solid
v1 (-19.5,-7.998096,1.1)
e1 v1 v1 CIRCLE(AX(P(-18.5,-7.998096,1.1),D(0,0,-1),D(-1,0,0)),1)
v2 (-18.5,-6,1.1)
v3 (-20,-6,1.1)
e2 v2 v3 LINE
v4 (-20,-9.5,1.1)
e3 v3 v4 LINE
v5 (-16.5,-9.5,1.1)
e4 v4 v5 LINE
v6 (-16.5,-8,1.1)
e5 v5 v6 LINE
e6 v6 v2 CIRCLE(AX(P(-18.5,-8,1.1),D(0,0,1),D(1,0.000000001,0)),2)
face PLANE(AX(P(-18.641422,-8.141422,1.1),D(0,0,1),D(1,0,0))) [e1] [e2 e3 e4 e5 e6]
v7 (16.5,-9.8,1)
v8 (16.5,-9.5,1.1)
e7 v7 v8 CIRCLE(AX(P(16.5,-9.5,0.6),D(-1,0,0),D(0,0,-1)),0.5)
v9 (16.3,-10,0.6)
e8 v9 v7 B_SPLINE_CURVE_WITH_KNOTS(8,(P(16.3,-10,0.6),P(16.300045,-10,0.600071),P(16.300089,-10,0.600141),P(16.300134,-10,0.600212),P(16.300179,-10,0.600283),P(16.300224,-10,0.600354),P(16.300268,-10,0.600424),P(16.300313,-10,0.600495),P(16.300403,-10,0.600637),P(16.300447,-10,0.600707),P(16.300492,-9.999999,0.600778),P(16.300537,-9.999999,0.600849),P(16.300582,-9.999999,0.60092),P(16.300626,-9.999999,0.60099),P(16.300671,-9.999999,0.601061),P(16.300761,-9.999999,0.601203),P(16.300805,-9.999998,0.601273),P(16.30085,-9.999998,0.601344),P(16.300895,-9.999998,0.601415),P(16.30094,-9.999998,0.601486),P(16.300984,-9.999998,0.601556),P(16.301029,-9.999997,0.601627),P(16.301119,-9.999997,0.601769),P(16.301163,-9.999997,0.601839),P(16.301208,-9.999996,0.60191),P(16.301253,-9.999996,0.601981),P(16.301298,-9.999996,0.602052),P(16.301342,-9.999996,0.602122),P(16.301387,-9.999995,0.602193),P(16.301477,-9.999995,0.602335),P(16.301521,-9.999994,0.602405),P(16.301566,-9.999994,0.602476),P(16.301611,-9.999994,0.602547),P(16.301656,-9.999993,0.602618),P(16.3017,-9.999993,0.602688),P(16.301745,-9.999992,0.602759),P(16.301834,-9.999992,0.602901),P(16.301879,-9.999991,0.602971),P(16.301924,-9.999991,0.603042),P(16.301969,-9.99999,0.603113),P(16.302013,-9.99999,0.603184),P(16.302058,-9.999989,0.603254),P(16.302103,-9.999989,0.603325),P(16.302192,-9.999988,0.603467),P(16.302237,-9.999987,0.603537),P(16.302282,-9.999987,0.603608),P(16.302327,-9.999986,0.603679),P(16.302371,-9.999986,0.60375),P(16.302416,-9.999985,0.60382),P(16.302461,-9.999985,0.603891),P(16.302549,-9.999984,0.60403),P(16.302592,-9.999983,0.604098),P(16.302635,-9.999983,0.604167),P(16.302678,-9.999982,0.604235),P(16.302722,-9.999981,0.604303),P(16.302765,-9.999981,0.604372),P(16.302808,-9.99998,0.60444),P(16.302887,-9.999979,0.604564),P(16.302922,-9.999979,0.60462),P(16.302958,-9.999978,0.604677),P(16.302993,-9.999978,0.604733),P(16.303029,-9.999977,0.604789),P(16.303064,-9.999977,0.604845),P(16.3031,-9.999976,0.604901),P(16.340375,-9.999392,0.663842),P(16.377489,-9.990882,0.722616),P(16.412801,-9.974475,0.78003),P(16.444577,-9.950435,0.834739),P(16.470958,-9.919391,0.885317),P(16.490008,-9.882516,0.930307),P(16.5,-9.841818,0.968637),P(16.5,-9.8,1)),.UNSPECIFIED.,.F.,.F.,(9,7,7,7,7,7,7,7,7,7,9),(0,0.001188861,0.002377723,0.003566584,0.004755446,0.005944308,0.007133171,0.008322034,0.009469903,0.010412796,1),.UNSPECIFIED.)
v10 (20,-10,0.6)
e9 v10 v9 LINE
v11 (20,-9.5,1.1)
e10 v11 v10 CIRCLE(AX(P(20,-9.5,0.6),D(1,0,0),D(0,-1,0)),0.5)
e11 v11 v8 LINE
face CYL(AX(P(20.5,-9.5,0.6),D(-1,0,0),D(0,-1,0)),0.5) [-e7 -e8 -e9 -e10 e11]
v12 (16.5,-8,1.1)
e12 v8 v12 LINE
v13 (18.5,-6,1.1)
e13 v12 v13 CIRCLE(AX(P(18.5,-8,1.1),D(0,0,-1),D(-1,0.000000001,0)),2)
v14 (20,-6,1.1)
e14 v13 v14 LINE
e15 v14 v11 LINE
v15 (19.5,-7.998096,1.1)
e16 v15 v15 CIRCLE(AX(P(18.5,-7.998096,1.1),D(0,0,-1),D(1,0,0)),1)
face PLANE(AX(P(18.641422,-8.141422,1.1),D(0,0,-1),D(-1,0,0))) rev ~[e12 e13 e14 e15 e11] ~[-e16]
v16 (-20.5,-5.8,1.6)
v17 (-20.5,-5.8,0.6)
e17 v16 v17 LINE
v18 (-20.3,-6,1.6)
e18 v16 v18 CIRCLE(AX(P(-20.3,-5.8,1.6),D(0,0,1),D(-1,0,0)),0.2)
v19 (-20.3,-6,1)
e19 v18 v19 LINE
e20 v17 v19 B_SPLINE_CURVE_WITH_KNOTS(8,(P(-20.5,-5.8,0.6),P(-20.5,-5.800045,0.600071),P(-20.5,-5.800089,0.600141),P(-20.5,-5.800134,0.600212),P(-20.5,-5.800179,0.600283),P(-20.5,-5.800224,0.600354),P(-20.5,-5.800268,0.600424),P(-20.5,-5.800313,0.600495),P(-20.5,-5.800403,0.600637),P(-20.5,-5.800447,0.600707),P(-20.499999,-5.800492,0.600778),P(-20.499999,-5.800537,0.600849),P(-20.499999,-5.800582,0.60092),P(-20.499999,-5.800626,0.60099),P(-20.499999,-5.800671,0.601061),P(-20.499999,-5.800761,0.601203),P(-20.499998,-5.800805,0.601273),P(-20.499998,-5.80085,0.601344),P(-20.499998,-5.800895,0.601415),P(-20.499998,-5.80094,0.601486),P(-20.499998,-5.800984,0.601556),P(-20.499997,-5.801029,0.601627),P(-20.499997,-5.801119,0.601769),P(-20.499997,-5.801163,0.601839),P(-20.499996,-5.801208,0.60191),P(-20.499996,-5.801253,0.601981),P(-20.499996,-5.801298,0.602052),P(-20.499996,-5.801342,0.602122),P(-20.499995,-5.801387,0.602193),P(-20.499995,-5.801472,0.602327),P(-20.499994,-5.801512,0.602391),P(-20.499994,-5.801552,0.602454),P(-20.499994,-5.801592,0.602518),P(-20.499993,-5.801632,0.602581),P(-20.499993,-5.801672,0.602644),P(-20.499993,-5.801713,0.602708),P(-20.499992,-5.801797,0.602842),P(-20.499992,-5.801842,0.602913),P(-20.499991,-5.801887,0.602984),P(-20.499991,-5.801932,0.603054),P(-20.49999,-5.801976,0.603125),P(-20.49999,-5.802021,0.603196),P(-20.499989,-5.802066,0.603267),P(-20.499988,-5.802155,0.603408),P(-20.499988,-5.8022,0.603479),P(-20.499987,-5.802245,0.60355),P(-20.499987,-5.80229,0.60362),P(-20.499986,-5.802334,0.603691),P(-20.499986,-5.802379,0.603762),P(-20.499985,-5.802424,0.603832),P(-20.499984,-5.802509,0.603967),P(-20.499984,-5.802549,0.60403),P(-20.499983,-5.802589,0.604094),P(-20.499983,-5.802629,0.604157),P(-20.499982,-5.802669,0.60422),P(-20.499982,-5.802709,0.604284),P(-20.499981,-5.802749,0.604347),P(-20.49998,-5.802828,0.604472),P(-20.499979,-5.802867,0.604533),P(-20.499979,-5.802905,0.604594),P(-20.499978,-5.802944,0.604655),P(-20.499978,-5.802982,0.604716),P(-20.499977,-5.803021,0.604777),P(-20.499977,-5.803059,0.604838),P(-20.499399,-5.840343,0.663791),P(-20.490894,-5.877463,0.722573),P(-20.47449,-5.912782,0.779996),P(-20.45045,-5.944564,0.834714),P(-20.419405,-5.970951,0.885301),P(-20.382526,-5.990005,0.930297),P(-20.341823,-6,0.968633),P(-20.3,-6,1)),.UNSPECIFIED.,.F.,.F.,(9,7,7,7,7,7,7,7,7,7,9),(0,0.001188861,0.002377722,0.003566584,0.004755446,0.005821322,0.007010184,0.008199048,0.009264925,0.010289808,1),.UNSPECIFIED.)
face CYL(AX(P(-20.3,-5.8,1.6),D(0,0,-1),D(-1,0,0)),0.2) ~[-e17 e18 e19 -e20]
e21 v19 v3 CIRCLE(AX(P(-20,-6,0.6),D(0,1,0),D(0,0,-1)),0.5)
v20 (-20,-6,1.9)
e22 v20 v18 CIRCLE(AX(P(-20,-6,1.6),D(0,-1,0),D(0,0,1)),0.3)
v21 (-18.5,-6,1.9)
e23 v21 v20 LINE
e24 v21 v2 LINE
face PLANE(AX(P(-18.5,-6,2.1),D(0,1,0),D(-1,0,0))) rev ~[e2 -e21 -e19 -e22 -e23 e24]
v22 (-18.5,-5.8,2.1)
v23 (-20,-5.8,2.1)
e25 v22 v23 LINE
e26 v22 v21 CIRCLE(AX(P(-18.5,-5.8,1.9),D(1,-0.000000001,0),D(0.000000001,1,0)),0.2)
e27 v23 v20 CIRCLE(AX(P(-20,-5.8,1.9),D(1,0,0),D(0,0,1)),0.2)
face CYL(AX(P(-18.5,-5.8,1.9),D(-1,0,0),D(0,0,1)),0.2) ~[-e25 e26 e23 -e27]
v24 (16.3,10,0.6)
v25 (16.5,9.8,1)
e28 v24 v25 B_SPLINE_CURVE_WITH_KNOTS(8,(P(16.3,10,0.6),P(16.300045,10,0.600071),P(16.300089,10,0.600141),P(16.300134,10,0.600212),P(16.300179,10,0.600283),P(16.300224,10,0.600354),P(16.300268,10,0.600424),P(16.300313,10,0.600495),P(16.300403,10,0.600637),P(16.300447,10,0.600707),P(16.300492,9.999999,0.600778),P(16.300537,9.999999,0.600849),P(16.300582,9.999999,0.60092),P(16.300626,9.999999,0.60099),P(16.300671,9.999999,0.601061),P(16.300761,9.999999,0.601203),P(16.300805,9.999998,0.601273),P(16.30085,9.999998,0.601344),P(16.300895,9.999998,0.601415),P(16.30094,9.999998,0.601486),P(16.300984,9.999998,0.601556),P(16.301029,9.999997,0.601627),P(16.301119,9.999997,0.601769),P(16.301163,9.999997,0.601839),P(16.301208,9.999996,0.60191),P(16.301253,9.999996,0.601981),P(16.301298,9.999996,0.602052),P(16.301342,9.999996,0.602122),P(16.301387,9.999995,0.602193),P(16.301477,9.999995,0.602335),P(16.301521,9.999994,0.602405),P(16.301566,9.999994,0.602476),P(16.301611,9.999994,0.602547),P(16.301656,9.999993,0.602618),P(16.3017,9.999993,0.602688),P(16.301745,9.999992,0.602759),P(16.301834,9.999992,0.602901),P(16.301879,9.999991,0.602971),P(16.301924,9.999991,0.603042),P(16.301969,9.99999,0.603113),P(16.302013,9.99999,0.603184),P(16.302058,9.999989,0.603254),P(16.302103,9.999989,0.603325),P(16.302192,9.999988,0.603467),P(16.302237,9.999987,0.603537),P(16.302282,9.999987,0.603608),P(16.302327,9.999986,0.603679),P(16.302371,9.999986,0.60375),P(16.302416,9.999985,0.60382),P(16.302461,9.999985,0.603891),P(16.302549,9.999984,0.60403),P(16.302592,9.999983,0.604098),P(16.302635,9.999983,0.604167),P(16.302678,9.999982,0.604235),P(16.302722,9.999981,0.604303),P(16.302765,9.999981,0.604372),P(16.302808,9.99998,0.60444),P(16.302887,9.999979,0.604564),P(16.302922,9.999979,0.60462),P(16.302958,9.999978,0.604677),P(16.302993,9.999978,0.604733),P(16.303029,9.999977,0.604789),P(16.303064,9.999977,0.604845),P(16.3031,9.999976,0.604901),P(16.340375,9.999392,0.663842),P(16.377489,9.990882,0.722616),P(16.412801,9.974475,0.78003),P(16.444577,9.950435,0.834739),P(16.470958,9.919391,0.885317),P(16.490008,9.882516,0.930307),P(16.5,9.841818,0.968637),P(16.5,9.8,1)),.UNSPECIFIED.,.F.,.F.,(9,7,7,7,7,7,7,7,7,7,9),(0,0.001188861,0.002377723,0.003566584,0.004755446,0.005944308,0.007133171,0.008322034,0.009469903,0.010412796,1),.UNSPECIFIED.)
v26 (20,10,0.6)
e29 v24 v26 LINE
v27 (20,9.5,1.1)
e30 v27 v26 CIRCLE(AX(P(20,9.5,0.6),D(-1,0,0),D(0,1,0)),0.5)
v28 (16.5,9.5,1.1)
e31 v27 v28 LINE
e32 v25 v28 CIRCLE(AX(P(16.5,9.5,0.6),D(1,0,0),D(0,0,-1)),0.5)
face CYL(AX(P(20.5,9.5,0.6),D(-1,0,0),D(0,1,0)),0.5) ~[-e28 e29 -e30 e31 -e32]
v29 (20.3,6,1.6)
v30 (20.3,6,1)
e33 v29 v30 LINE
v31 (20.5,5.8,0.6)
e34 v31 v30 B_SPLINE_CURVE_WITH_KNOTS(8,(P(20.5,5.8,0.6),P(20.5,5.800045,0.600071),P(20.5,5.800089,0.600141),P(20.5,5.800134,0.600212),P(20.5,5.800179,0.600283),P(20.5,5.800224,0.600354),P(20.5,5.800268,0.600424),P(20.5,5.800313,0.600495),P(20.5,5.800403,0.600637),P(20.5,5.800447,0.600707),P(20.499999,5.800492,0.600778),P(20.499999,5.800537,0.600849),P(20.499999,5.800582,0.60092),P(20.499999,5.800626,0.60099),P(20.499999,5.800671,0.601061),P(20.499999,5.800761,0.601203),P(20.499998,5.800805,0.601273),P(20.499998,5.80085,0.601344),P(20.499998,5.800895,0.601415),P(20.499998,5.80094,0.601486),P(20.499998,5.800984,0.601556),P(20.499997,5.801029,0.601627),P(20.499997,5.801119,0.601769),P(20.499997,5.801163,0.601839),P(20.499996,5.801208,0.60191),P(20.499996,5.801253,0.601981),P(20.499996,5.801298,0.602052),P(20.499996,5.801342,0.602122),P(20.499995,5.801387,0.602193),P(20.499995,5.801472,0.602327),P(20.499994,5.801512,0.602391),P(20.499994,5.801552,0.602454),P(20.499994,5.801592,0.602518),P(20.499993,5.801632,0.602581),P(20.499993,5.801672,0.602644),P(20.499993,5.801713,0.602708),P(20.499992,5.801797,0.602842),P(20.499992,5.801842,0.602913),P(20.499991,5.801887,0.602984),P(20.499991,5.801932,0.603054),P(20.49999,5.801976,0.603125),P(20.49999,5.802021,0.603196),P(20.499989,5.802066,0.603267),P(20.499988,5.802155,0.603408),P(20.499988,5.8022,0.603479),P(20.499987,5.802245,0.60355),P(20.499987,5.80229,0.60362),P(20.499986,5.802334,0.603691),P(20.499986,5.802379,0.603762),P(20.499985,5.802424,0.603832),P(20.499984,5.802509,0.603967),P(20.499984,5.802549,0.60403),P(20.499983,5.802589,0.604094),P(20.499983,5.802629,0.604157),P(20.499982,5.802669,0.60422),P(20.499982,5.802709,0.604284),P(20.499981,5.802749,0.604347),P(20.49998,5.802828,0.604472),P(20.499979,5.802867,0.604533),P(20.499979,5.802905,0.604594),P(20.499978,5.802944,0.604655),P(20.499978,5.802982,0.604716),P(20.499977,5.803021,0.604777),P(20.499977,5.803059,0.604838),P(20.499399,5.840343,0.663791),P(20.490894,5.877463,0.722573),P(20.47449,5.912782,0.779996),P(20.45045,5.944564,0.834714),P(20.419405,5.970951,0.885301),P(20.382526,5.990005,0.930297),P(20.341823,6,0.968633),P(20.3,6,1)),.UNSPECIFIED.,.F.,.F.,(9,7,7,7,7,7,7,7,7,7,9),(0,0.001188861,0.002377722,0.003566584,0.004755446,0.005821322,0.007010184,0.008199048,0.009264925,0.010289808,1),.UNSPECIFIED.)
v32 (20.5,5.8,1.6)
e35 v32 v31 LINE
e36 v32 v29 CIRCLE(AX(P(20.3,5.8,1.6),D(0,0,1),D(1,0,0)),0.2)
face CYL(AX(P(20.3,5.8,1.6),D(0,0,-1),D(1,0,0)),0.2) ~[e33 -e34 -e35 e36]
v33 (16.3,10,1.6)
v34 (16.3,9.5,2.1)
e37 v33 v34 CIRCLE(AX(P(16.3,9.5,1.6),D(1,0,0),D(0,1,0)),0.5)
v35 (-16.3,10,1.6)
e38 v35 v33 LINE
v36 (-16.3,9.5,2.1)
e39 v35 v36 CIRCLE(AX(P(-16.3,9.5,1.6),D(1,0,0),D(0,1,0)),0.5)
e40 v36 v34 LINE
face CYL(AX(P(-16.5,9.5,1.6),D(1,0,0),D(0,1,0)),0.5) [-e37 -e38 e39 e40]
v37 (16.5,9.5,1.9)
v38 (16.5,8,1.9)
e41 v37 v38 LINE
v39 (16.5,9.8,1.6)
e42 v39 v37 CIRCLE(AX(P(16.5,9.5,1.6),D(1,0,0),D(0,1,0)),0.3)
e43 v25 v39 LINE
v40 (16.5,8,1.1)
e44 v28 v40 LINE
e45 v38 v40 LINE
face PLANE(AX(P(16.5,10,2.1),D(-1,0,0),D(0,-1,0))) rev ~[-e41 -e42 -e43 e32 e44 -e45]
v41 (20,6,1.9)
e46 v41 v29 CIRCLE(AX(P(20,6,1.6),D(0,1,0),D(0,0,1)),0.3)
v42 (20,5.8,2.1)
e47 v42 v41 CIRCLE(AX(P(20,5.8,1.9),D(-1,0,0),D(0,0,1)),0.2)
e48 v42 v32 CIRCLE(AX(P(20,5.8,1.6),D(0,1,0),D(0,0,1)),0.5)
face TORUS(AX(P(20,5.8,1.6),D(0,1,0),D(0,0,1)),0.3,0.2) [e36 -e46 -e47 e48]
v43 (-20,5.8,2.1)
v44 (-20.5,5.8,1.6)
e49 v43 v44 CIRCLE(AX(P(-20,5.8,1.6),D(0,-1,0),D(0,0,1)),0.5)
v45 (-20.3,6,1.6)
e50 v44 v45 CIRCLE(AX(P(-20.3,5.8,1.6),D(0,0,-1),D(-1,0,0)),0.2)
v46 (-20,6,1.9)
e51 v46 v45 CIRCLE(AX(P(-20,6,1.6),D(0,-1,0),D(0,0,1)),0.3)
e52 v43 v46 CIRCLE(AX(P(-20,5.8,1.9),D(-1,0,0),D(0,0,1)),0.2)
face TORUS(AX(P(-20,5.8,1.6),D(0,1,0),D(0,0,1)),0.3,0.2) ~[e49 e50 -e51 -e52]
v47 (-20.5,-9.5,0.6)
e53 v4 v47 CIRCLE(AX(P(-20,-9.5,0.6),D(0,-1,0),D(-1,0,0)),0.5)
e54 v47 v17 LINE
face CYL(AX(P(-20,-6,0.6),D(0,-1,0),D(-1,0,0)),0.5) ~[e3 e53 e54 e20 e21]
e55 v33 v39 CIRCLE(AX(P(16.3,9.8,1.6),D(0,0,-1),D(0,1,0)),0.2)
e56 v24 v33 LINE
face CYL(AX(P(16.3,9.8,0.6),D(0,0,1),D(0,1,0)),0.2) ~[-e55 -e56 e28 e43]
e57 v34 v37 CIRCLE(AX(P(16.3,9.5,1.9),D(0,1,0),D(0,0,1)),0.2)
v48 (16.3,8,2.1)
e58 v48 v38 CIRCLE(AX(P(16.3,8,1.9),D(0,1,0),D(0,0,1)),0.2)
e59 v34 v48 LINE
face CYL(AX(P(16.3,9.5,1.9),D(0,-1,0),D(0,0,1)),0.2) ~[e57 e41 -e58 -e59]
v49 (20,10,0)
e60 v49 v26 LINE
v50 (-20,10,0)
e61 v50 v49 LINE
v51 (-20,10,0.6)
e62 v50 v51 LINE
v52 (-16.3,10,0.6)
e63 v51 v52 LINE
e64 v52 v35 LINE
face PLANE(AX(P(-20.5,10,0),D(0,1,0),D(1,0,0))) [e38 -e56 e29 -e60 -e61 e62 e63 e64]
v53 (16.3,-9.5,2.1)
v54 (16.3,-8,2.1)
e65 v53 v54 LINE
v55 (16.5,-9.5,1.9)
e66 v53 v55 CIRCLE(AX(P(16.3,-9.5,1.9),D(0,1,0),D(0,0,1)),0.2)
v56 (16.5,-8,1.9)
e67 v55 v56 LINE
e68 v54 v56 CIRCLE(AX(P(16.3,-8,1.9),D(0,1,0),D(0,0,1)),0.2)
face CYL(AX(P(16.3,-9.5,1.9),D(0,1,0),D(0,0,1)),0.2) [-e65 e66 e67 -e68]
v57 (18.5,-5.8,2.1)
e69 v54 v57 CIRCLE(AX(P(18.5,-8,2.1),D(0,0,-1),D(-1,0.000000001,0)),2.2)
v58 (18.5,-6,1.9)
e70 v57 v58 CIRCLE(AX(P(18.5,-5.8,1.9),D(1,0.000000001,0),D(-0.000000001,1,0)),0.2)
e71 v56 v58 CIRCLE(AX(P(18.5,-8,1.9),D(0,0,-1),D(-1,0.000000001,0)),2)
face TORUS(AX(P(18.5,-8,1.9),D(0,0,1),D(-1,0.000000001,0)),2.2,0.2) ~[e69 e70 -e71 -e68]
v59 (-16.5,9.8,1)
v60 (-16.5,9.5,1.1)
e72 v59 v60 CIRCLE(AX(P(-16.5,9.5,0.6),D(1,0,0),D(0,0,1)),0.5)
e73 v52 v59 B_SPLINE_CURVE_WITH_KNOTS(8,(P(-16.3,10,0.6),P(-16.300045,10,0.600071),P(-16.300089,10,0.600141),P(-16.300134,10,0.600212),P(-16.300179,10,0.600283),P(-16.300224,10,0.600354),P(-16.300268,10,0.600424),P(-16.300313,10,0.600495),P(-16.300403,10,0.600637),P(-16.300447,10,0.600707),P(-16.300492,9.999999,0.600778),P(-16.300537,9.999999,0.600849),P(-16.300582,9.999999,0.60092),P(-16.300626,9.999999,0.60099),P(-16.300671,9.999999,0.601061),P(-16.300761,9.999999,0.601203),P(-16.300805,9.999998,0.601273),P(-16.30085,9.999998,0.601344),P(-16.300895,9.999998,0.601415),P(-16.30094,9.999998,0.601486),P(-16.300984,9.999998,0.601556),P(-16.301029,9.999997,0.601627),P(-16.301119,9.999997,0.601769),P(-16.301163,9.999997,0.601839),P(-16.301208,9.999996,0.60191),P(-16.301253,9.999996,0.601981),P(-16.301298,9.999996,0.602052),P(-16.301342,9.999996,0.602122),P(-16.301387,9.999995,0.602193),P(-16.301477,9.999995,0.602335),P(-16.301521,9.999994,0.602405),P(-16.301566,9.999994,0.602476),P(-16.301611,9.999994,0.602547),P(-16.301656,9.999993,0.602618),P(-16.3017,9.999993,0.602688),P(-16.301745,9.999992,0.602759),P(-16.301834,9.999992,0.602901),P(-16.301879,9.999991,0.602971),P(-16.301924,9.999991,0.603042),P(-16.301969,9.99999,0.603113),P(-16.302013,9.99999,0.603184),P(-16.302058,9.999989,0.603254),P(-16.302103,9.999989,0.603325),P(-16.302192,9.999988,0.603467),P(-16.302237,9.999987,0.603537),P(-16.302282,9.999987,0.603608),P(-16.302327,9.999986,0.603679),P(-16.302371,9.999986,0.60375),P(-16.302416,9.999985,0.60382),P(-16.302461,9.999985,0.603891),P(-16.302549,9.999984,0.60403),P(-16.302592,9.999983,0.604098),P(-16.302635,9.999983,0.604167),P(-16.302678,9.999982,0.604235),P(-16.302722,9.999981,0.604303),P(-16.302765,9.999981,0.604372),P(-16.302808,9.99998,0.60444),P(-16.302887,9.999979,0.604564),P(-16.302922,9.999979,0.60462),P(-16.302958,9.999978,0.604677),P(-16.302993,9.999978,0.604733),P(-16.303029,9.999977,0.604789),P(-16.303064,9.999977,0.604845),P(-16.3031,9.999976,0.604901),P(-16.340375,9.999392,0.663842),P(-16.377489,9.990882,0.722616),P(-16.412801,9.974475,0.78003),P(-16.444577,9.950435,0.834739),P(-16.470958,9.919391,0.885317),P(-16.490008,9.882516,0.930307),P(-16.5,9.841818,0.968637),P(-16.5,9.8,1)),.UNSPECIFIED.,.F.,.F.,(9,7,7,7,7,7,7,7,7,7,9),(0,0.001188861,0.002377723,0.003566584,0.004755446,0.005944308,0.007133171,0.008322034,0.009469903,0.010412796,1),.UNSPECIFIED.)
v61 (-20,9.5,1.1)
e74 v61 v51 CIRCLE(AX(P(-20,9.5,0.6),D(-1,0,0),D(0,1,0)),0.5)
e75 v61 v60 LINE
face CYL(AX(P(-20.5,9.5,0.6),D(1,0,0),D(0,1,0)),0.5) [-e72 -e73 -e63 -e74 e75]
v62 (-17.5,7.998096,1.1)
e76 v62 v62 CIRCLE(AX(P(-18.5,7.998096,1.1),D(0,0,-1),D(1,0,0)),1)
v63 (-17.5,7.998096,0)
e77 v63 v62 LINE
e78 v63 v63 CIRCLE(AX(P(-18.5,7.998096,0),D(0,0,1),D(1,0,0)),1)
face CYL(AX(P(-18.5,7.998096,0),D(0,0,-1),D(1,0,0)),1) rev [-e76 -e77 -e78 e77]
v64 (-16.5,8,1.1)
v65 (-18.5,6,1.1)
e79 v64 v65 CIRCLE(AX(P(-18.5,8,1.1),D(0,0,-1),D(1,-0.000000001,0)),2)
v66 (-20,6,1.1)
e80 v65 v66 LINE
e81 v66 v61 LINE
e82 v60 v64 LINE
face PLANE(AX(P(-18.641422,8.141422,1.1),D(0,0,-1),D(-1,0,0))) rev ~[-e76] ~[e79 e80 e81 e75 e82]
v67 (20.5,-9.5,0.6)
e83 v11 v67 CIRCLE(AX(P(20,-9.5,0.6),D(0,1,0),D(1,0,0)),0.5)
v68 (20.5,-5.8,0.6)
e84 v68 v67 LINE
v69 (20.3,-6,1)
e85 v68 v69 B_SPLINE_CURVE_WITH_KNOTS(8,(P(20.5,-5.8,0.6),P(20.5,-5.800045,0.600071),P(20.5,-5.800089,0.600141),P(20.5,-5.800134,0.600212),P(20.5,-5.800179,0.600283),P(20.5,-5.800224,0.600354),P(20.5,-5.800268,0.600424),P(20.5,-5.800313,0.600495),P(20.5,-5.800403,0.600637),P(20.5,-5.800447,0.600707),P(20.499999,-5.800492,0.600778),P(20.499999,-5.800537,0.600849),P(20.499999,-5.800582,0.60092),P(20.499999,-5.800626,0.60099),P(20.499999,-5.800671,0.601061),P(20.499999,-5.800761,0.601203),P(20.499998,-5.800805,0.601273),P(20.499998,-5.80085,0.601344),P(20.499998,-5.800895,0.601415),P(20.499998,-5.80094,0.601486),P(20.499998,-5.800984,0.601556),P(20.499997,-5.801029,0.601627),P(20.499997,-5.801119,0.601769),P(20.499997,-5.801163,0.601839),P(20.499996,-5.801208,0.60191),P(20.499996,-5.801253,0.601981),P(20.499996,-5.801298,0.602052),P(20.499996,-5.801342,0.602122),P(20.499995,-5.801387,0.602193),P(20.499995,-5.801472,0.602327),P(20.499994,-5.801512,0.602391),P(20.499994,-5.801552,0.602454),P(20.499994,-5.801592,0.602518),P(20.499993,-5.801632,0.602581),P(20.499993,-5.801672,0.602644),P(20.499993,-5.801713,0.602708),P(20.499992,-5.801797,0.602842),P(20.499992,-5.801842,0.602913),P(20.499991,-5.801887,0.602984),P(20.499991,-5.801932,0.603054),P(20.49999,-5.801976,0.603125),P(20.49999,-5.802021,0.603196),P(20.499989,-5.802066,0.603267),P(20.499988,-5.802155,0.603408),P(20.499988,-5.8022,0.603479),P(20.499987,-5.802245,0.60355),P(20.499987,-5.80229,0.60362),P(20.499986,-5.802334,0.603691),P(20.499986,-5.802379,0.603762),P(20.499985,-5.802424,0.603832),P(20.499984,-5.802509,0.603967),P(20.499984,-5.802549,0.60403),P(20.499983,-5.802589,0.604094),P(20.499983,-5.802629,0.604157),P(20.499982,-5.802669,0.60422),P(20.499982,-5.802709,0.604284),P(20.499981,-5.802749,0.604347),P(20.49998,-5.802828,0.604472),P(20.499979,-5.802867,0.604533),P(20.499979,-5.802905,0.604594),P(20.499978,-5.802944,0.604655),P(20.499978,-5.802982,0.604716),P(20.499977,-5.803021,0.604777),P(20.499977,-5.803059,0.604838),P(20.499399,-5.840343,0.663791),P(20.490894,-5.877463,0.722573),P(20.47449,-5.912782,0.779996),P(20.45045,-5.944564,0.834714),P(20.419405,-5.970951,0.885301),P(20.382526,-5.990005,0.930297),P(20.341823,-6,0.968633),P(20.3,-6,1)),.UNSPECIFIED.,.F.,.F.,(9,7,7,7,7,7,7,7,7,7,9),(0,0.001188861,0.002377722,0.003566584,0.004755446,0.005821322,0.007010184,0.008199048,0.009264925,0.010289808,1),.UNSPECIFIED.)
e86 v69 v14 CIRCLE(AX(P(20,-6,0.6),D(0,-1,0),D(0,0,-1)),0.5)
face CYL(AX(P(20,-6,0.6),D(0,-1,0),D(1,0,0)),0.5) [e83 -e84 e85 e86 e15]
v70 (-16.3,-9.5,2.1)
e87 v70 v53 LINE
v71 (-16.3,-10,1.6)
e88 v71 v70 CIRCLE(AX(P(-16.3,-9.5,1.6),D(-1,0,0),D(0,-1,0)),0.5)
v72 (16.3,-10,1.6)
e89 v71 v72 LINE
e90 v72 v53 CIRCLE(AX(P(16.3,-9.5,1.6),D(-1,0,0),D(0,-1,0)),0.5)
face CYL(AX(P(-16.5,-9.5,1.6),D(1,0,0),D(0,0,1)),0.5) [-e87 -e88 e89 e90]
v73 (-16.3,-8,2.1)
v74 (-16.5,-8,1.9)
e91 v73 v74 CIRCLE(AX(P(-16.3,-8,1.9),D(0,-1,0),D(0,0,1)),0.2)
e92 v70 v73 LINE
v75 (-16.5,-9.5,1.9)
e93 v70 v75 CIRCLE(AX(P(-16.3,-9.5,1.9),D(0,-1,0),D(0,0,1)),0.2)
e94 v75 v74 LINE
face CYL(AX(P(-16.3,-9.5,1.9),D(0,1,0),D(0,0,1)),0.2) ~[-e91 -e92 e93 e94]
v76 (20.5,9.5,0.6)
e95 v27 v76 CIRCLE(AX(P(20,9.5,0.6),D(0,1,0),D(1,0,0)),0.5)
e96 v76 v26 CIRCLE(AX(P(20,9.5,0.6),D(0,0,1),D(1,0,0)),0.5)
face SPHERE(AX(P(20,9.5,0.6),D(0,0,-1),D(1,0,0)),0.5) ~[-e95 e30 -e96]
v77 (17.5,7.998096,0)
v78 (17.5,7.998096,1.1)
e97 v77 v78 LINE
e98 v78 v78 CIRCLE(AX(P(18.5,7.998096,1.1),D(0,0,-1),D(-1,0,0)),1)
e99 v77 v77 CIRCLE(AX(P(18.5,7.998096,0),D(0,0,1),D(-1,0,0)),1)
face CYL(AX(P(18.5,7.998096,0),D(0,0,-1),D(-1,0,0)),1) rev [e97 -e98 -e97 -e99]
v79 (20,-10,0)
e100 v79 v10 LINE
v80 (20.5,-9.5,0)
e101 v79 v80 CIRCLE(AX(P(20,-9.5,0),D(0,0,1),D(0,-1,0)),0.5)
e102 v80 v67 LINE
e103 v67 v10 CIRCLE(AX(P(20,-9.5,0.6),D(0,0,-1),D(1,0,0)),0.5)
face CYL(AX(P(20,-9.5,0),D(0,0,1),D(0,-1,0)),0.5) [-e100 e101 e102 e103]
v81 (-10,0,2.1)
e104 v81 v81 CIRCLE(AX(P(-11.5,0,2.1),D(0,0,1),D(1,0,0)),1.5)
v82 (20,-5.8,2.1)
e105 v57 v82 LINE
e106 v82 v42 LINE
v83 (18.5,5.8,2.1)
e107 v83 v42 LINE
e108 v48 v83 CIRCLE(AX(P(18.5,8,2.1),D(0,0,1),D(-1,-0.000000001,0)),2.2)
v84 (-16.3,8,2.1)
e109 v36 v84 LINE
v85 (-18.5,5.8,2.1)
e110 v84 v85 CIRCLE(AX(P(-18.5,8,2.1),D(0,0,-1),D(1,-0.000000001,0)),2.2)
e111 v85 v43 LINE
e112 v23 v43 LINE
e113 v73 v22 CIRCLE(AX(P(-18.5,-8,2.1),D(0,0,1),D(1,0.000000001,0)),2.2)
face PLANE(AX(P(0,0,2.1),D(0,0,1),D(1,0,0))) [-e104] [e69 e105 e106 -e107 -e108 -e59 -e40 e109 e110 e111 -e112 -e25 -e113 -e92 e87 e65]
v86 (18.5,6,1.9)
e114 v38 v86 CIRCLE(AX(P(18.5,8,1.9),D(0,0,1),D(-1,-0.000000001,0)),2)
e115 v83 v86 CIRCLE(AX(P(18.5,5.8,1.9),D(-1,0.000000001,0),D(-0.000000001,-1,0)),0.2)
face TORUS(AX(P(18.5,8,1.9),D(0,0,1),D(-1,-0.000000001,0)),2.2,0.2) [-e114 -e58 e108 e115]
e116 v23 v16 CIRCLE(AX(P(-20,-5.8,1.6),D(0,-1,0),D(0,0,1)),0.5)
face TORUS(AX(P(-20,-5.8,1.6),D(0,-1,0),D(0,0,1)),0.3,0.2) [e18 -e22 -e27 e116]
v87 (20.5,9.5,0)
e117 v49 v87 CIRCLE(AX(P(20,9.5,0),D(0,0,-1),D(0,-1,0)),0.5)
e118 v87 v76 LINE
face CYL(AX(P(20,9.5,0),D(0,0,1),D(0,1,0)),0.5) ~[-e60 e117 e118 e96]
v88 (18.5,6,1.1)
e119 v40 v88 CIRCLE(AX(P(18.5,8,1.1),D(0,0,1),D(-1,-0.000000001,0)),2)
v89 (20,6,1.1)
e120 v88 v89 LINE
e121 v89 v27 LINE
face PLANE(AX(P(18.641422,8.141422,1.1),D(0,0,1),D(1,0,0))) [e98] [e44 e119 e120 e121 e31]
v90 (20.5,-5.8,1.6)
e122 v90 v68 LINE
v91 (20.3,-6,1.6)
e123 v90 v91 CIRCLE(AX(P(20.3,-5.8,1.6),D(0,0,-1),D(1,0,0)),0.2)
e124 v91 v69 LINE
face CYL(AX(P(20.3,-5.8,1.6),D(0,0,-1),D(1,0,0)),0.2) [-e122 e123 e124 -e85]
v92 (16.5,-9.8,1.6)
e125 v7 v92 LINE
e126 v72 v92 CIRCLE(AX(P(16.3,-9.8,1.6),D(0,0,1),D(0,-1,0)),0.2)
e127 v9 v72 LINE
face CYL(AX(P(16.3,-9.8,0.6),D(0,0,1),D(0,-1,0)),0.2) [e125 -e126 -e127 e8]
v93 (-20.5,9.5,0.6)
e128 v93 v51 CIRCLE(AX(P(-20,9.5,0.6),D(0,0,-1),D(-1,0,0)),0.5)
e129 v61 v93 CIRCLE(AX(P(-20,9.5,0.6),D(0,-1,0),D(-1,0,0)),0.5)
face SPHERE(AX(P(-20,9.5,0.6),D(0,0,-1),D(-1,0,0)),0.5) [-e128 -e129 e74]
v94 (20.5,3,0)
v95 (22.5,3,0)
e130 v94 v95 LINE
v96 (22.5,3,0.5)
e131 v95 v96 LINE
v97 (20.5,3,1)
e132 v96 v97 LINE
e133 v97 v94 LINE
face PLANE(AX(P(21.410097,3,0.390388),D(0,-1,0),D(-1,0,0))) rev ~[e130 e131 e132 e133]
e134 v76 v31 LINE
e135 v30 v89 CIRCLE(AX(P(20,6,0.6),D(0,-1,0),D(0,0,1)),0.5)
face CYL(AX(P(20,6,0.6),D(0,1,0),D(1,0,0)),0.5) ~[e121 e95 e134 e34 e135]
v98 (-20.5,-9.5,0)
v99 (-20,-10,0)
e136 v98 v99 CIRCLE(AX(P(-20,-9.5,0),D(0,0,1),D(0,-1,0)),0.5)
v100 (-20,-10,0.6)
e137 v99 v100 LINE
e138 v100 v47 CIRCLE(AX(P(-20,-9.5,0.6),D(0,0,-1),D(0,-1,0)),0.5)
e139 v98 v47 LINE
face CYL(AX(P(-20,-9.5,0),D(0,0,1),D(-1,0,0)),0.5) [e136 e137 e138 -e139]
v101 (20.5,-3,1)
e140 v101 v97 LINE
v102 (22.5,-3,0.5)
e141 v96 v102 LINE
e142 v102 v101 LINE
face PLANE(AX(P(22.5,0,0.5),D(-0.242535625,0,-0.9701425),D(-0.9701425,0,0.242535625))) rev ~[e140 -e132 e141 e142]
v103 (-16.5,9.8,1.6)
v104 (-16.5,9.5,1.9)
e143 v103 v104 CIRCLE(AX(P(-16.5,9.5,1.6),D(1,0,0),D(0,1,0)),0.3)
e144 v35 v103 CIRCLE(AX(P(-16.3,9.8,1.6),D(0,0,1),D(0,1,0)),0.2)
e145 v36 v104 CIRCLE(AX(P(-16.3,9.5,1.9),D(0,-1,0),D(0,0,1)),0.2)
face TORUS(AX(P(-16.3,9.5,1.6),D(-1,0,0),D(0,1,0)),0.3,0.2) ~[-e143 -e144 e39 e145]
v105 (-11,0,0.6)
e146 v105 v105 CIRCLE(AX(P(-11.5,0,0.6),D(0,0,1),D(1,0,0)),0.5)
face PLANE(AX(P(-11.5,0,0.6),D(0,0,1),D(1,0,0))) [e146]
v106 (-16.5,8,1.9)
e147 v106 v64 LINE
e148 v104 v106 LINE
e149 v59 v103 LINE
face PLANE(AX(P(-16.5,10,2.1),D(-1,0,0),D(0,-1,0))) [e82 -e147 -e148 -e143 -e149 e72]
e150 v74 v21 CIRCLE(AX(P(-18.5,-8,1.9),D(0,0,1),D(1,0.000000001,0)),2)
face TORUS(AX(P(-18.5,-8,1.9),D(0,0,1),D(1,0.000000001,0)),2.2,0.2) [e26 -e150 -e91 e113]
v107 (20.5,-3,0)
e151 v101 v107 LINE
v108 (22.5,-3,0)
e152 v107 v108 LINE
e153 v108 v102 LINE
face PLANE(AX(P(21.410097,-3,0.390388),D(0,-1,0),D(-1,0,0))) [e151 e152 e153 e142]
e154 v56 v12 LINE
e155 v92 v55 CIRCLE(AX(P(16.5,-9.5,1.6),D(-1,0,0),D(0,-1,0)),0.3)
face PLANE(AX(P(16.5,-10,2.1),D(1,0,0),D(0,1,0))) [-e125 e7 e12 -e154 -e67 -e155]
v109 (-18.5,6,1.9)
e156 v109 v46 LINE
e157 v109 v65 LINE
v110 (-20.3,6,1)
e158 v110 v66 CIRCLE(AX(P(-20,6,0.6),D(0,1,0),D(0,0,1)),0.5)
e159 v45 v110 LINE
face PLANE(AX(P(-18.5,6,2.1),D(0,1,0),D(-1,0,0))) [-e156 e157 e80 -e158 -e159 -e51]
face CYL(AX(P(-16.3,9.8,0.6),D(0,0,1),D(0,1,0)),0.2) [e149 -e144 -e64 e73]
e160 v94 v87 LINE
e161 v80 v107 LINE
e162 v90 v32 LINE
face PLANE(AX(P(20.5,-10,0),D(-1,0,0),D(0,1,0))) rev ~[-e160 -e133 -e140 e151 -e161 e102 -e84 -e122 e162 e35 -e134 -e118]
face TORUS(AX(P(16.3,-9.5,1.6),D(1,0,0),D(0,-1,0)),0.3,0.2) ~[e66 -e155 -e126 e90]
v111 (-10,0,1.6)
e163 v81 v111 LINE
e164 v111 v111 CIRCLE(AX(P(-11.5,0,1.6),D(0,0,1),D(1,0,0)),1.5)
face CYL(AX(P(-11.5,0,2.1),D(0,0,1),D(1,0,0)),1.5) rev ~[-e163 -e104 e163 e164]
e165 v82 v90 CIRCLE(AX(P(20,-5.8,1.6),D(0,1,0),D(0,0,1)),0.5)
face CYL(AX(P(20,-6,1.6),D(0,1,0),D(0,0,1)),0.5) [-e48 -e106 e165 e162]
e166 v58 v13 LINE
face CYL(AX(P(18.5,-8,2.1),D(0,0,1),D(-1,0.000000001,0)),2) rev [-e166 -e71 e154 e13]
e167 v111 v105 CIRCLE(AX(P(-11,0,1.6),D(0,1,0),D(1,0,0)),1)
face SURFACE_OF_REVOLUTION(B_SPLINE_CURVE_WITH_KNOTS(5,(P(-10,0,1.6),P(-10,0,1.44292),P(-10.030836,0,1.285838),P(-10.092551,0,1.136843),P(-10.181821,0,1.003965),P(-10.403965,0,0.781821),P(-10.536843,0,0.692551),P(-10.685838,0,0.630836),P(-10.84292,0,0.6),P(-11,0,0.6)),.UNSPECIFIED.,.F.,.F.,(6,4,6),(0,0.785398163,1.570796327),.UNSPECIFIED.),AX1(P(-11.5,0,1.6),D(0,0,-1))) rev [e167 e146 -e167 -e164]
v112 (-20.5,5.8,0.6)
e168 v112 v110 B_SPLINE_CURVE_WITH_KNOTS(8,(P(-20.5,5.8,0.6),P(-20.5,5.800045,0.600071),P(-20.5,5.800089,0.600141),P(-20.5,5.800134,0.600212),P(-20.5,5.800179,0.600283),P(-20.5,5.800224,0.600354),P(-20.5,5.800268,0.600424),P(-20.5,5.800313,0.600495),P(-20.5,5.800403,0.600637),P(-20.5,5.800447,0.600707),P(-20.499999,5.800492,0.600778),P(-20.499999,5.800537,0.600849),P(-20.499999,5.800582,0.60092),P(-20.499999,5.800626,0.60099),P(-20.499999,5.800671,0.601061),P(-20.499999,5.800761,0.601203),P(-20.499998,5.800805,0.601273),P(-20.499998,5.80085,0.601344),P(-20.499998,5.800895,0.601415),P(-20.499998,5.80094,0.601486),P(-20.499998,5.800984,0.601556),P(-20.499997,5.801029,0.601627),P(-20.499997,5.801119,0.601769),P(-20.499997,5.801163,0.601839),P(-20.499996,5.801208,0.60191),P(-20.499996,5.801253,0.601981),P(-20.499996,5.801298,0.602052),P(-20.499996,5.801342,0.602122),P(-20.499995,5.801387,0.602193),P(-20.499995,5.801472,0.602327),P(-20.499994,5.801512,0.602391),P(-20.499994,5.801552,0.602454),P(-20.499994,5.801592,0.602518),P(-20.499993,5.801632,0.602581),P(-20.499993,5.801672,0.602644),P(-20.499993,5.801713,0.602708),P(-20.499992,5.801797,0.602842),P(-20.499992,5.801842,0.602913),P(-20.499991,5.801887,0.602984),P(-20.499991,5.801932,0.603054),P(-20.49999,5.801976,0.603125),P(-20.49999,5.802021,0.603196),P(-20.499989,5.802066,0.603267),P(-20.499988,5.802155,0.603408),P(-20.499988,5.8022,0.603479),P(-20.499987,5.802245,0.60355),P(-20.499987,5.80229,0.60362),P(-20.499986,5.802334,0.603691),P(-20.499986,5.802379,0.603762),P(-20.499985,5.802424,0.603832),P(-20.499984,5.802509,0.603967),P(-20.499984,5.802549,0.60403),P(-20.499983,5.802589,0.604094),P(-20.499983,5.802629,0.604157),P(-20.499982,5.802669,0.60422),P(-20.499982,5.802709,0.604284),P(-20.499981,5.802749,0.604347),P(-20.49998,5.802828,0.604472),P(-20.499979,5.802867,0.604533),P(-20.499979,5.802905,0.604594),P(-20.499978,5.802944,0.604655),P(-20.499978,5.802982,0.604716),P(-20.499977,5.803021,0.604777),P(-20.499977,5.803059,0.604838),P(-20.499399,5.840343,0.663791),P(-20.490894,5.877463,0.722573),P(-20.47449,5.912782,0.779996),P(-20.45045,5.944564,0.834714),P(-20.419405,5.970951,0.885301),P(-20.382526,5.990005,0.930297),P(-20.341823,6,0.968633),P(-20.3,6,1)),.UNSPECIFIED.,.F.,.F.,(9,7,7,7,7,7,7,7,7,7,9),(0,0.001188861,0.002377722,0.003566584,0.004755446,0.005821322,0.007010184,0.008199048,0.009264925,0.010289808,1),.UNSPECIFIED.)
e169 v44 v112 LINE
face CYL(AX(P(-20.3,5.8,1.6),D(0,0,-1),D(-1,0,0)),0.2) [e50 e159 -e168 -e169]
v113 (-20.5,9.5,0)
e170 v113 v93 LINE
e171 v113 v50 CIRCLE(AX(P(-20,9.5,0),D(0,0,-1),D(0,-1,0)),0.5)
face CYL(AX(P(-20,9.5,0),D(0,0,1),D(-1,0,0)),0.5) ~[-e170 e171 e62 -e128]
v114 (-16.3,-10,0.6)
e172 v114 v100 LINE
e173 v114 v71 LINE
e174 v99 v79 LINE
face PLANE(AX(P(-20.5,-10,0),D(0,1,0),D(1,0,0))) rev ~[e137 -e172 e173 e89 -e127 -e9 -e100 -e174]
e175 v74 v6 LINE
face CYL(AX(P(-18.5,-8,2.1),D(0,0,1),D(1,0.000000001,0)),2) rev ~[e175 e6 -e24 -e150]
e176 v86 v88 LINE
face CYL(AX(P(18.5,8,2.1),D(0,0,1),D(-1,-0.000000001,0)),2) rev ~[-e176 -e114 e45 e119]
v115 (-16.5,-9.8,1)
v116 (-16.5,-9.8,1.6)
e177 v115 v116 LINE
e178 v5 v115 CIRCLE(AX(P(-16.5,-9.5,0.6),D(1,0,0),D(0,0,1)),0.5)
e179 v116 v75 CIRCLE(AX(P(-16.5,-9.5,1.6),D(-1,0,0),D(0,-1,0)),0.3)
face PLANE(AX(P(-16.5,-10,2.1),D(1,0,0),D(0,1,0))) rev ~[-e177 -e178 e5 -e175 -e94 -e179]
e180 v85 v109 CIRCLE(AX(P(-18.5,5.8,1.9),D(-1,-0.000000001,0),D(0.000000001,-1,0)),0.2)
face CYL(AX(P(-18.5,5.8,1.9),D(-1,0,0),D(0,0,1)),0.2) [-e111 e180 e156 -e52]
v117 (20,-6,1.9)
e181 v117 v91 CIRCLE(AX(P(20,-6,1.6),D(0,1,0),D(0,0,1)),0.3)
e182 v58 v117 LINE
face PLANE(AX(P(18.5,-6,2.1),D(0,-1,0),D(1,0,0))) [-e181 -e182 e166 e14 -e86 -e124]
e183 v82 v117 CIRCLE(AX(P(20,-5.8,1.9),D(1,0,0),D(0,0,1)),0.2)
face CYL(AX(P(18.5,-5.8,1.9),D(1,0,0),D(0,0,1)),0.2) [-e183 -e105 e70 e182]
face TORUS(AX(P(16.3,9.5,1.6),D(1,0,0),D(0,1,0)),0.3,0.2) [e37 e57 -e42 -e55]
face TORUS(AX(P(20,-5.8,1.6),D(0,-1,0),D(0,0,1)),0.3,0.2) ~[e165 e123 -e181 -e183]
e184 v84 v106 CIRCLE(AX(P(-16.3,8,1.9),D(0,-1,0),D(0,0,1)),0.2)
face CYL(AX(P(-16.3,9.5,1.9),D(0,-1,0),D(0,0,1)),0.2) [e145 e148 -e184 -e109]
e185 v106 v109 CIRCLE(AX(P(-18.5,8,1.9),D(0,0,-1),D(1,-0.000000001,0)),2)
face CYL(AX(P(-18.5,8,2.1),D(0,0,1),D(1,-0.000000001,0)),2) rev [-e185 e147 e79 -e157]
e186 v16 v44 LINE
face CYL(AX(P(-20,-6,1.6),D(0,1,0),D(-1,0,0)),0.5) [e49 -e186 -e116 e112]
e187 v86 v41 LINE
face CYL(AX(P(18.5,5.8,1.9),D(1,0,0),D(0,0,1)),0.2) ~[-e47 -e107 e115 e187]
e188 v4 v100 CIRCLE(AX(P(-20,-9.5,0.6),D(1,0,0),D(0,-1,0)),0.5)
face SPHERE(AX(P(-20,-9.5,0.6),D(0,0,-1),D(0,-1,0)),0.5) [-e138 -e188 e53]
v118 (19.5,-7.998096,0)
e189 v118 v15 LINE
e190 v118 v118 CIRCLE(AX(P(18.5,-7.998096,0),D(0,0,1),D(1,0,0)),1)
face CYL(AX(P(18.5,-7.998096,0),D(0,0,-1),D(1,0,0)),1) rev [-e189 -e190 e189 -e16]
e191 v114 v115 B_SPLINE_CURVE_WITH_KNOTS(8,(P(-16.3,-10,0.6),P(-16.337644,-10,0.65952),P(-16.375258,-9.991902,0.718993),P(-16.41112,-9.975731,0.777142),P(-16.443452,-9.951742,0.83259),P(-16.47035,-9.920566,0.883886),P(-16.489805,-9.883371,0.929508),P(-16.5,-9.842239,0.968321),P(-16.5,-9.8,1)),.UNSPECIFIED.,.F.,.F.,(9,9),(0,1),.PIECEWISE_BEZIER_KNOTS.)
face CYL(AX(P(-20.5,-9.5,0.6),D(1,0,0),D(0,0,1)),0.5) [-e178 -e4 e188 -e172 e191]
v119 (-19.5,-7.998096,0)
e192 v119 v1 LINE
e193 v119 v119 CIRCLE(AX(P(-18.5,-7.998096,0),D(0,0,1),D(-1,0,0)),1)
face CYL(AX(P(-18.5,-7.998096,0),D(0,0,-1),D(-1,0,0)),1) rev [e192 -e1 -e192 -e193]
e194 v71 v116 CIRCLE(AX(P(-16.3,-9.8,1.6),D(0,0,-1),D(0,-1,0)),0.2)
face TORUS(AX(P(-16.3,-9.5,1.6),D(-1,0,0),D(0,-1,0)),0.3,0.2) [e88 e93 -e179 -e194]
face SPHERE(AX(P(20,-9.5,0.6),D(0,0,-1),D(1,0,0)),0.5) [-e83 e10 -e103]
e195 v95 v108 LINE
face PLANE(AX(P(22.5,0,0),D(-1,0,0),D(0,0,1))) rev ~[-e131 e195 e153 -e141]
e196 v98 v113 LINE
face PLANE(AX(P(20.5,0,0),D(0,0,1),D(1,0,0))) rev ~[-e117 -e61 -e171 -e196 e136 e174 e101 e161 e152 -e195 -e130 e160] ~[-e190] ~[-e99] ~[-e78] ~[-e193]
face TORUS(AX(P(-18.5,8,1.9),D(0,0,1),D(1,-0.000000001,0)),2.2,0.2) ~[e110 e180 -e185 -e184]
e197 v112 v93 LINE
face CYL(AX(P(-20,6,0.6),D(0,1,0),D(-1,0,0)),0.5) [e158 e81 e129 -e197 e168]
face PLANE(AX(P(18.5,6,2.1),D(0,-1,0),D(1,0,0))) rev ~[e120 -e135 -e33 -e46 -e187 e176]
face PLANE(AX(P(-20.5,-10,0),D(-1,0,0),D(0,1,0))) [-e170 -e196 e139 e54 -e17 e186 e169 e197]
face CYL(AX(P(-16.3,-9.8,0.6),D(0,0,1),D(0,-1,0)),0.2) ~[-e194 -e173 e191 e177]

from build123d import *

# Parameters (mm, degrees)
SKETCH1_W           = 41
SKETCH1_H           = 20
SKETCH1_R           = 1
EXTRUDE1_DEPTH      = 2.1
CUT_EXTRUDE1_DEPTH  = 1
FILLET1_R           = 0.5
FILLET2_R           = 0.2
SKETCH3_R           = 1.5
CUT_EXTRUDE2_DEPTH  = 1.5
FILLET3_R           = 1
EXTRUDE2_DEPTH      = 3
EXTRUDE2_DEPTH_BACK = 3


with BuildPart() as part:
    # Sketch1 → Extrude1 (new body)
    with BuildSketch(Plane.XY):
        Rectangle(SKETCH1_W, SKETCH1_H)
        with Locations((-18.5, 7.998095583)):
            Circle(SKETCH1_R, mode=Mode.SUBTRACT)
        with Locations(Location((-18.5, -7.998095583, 0), (0, 0, 180))):  # turned: the seam where the file's is
            Circle(SKETCH1_R, mode=Mode.SUBTRACT)
        with Locations(Location((18.5, 7.998095583, 0), (0, 0, 180))):  # turned: the seam where the file's is
            Circle(SKETCH1_R, mode=Mode.SUBTRACT)
        with Locations((18.5, -7.998095583)):
            Circle(SKETCH1_R, mode=Mode.SUBTRACT)
    extrude(amount=EXTRUDE1_DEPTH)

    # Sketch2 → Cut-Extrude1 (cut)
    with BuildSketch(Plane.XY.offset(2.1)):
        with BuildLine():
            Line((20.5, 10), (16.5, 10))
            Line((16.5, 10), (16.5, 8))
            ThreePointArc((16.5, 8), (17.085786438, 6.585786438), (18.5, 6))
            Line((18.5, 6), (20.5, 6))
            Line((20.5, 6), (20.5, 10))
        make_face()
        with BuildLine():
            Line((16.5, -10), (16.5, -8))
            ThreePointArc((16.5, -8), (17.085786438, -6.585786438), (18.5, -6))
            Line((18.5, -6), (20.5, -6))
            Line((20.5, -6), (20.5, -10))
            Line((20.5, -10), (16.5, -10))
        make_face()
        with BuildLine():
            Line((-20.5, -10), (-16.5, -10))
            Line((-16.5, -10), (-16.5, -8))
            ThreePointArc((-16.5, -8), (-17.085786438, -6.585786438), (-18.5, -6))
            Line((-18.5, -6), (-20.5, -6))
            Line((-20.5, -6), (-20.5, -10))
        make_face()
        with BuildLine():
            Line((-16.5, 10), (-16.5, 8))
            ThreePointArc((-16.5, 8), (-17.085786438, 6.585786438), (-18.5, 6))
            Line((-18.5, 6), (-20.5, 6))
            Line((-20.5, 6), (-20.5, 10))
            Line((-20.5, 10), (-16.5, 10))
        make_face()
    extrude(amount=-CUT_EXTRUDE1_DEPTH, mode=Mode.SUBTRACT)

    # Fillet1
    fillet1_edges = [part.edges().sort_by_distance(p)[0] for p in [
        (0, 10, 2.1),
        (20.5, 10, 0.55),
        (20.5, 8, 1.1),
        (18.5, 10, 1.1),
        (20.5, 0, 2.1),
        (20.5, -10, 0.55),
        (20.5, -8, 1.1),
        (18.5, -10, 1.1),
        (0, -10, 2.1),
        (-20.5, -10, 0.55),
        (-18.5, -10, 1.1),
        (-20.5, -8, 1.1),
        (-20.5, 10, 0.55),
        (-20.5, 0, 2.1),
        (-20.5, 8, 1.1),
        (-18.5, 10, 1.1),
    ]]
    fillet(fillet1_edges, radius=FILLET1_R)

    # Fillet2
    fillet2_edges = [part.edges().sort_by_distance(p)[0] for p in [
        (-19.25, 6, 2.1),
        (-16.5, -8.75, 2.1),
        (19.25, -6, 2.1),
        (16.5, 8.75, 2.1),
        (20.353553391, 6, 1.953553391),
        (20.353553391, -6, 1.953553391),
        (-20.353553391, -6, 1.953553391),
        (-20.353553391, 6, 1.953553391),
        (16.5, -9.853553391, 1.953553391),
        (-16.5, -9.853553391, 1.953553391),
        (-16.5, 9.853553391, 1.953553391),
        (16.5, 9.853553391, 1.953553391),
        (20.5, 6, 1.35),
        (16.5, 10, 1.35),
        (17.085786438, 6.585786438, 2.1),
        (19.25, 6, 2.1),
        (20.5, -6, 0.85),
        (16.5, -10, 1.35),
        (17.085786438, -6.585786438, 2.1),
        (16.5, -8.75, 2.1),
        (-16.5, -10, 0.85),
        (-20.5, -6, 0.85),
        (-17.085786438, -6.585786438, 2.1),
        (-19.25, -6, 2.1),
        (-20.5, 6, 0.85),
        (-16.5, 10, 1.35),
        (-17.085786438, 6.585786438, 2.1),
        (-16.5, 8.75, 2.1),
    ]]
    fillet(fillet2_edges, radius=FILLET2_R)

    # Sketch3 → Cut-Extrude2 (cut)
    with BuildSketch(Plane.XY.offset(2.1)):
        with Locations((-11.5, 0)):
            Circle(SKETCH3_R)
    extrude(amount=-CUT_EXTRUDE2_DEPTH, mode=Mode.SUBTRACT)

    # Fillet3
    fillet3_edges = [part.edges().sort_by_distance(p)[0] for p in [
        (-13, 0, 0.6),
    ]]
    fillet(fillet3_edges, radius=FILLET3_R)

    # Sketch4 → Extrude2 (add, two sides)
    with BuildSketch(Plane(origin=(0, 0, 0), x_dir=(1, 0, 0), z_dir=(0, 1, 0))) as extrude2_sk:
        Polygon((20.5, 0), (22.5, 0), (22.5, -0.5), (20.5, -1), align=None)
    extrude(amount=EXTRUDE2_DEPTH)
    extrude(extrude2_sk.sketch, amount=-EXTRUDE2_DEPTH_BACK)


solid = part.part
